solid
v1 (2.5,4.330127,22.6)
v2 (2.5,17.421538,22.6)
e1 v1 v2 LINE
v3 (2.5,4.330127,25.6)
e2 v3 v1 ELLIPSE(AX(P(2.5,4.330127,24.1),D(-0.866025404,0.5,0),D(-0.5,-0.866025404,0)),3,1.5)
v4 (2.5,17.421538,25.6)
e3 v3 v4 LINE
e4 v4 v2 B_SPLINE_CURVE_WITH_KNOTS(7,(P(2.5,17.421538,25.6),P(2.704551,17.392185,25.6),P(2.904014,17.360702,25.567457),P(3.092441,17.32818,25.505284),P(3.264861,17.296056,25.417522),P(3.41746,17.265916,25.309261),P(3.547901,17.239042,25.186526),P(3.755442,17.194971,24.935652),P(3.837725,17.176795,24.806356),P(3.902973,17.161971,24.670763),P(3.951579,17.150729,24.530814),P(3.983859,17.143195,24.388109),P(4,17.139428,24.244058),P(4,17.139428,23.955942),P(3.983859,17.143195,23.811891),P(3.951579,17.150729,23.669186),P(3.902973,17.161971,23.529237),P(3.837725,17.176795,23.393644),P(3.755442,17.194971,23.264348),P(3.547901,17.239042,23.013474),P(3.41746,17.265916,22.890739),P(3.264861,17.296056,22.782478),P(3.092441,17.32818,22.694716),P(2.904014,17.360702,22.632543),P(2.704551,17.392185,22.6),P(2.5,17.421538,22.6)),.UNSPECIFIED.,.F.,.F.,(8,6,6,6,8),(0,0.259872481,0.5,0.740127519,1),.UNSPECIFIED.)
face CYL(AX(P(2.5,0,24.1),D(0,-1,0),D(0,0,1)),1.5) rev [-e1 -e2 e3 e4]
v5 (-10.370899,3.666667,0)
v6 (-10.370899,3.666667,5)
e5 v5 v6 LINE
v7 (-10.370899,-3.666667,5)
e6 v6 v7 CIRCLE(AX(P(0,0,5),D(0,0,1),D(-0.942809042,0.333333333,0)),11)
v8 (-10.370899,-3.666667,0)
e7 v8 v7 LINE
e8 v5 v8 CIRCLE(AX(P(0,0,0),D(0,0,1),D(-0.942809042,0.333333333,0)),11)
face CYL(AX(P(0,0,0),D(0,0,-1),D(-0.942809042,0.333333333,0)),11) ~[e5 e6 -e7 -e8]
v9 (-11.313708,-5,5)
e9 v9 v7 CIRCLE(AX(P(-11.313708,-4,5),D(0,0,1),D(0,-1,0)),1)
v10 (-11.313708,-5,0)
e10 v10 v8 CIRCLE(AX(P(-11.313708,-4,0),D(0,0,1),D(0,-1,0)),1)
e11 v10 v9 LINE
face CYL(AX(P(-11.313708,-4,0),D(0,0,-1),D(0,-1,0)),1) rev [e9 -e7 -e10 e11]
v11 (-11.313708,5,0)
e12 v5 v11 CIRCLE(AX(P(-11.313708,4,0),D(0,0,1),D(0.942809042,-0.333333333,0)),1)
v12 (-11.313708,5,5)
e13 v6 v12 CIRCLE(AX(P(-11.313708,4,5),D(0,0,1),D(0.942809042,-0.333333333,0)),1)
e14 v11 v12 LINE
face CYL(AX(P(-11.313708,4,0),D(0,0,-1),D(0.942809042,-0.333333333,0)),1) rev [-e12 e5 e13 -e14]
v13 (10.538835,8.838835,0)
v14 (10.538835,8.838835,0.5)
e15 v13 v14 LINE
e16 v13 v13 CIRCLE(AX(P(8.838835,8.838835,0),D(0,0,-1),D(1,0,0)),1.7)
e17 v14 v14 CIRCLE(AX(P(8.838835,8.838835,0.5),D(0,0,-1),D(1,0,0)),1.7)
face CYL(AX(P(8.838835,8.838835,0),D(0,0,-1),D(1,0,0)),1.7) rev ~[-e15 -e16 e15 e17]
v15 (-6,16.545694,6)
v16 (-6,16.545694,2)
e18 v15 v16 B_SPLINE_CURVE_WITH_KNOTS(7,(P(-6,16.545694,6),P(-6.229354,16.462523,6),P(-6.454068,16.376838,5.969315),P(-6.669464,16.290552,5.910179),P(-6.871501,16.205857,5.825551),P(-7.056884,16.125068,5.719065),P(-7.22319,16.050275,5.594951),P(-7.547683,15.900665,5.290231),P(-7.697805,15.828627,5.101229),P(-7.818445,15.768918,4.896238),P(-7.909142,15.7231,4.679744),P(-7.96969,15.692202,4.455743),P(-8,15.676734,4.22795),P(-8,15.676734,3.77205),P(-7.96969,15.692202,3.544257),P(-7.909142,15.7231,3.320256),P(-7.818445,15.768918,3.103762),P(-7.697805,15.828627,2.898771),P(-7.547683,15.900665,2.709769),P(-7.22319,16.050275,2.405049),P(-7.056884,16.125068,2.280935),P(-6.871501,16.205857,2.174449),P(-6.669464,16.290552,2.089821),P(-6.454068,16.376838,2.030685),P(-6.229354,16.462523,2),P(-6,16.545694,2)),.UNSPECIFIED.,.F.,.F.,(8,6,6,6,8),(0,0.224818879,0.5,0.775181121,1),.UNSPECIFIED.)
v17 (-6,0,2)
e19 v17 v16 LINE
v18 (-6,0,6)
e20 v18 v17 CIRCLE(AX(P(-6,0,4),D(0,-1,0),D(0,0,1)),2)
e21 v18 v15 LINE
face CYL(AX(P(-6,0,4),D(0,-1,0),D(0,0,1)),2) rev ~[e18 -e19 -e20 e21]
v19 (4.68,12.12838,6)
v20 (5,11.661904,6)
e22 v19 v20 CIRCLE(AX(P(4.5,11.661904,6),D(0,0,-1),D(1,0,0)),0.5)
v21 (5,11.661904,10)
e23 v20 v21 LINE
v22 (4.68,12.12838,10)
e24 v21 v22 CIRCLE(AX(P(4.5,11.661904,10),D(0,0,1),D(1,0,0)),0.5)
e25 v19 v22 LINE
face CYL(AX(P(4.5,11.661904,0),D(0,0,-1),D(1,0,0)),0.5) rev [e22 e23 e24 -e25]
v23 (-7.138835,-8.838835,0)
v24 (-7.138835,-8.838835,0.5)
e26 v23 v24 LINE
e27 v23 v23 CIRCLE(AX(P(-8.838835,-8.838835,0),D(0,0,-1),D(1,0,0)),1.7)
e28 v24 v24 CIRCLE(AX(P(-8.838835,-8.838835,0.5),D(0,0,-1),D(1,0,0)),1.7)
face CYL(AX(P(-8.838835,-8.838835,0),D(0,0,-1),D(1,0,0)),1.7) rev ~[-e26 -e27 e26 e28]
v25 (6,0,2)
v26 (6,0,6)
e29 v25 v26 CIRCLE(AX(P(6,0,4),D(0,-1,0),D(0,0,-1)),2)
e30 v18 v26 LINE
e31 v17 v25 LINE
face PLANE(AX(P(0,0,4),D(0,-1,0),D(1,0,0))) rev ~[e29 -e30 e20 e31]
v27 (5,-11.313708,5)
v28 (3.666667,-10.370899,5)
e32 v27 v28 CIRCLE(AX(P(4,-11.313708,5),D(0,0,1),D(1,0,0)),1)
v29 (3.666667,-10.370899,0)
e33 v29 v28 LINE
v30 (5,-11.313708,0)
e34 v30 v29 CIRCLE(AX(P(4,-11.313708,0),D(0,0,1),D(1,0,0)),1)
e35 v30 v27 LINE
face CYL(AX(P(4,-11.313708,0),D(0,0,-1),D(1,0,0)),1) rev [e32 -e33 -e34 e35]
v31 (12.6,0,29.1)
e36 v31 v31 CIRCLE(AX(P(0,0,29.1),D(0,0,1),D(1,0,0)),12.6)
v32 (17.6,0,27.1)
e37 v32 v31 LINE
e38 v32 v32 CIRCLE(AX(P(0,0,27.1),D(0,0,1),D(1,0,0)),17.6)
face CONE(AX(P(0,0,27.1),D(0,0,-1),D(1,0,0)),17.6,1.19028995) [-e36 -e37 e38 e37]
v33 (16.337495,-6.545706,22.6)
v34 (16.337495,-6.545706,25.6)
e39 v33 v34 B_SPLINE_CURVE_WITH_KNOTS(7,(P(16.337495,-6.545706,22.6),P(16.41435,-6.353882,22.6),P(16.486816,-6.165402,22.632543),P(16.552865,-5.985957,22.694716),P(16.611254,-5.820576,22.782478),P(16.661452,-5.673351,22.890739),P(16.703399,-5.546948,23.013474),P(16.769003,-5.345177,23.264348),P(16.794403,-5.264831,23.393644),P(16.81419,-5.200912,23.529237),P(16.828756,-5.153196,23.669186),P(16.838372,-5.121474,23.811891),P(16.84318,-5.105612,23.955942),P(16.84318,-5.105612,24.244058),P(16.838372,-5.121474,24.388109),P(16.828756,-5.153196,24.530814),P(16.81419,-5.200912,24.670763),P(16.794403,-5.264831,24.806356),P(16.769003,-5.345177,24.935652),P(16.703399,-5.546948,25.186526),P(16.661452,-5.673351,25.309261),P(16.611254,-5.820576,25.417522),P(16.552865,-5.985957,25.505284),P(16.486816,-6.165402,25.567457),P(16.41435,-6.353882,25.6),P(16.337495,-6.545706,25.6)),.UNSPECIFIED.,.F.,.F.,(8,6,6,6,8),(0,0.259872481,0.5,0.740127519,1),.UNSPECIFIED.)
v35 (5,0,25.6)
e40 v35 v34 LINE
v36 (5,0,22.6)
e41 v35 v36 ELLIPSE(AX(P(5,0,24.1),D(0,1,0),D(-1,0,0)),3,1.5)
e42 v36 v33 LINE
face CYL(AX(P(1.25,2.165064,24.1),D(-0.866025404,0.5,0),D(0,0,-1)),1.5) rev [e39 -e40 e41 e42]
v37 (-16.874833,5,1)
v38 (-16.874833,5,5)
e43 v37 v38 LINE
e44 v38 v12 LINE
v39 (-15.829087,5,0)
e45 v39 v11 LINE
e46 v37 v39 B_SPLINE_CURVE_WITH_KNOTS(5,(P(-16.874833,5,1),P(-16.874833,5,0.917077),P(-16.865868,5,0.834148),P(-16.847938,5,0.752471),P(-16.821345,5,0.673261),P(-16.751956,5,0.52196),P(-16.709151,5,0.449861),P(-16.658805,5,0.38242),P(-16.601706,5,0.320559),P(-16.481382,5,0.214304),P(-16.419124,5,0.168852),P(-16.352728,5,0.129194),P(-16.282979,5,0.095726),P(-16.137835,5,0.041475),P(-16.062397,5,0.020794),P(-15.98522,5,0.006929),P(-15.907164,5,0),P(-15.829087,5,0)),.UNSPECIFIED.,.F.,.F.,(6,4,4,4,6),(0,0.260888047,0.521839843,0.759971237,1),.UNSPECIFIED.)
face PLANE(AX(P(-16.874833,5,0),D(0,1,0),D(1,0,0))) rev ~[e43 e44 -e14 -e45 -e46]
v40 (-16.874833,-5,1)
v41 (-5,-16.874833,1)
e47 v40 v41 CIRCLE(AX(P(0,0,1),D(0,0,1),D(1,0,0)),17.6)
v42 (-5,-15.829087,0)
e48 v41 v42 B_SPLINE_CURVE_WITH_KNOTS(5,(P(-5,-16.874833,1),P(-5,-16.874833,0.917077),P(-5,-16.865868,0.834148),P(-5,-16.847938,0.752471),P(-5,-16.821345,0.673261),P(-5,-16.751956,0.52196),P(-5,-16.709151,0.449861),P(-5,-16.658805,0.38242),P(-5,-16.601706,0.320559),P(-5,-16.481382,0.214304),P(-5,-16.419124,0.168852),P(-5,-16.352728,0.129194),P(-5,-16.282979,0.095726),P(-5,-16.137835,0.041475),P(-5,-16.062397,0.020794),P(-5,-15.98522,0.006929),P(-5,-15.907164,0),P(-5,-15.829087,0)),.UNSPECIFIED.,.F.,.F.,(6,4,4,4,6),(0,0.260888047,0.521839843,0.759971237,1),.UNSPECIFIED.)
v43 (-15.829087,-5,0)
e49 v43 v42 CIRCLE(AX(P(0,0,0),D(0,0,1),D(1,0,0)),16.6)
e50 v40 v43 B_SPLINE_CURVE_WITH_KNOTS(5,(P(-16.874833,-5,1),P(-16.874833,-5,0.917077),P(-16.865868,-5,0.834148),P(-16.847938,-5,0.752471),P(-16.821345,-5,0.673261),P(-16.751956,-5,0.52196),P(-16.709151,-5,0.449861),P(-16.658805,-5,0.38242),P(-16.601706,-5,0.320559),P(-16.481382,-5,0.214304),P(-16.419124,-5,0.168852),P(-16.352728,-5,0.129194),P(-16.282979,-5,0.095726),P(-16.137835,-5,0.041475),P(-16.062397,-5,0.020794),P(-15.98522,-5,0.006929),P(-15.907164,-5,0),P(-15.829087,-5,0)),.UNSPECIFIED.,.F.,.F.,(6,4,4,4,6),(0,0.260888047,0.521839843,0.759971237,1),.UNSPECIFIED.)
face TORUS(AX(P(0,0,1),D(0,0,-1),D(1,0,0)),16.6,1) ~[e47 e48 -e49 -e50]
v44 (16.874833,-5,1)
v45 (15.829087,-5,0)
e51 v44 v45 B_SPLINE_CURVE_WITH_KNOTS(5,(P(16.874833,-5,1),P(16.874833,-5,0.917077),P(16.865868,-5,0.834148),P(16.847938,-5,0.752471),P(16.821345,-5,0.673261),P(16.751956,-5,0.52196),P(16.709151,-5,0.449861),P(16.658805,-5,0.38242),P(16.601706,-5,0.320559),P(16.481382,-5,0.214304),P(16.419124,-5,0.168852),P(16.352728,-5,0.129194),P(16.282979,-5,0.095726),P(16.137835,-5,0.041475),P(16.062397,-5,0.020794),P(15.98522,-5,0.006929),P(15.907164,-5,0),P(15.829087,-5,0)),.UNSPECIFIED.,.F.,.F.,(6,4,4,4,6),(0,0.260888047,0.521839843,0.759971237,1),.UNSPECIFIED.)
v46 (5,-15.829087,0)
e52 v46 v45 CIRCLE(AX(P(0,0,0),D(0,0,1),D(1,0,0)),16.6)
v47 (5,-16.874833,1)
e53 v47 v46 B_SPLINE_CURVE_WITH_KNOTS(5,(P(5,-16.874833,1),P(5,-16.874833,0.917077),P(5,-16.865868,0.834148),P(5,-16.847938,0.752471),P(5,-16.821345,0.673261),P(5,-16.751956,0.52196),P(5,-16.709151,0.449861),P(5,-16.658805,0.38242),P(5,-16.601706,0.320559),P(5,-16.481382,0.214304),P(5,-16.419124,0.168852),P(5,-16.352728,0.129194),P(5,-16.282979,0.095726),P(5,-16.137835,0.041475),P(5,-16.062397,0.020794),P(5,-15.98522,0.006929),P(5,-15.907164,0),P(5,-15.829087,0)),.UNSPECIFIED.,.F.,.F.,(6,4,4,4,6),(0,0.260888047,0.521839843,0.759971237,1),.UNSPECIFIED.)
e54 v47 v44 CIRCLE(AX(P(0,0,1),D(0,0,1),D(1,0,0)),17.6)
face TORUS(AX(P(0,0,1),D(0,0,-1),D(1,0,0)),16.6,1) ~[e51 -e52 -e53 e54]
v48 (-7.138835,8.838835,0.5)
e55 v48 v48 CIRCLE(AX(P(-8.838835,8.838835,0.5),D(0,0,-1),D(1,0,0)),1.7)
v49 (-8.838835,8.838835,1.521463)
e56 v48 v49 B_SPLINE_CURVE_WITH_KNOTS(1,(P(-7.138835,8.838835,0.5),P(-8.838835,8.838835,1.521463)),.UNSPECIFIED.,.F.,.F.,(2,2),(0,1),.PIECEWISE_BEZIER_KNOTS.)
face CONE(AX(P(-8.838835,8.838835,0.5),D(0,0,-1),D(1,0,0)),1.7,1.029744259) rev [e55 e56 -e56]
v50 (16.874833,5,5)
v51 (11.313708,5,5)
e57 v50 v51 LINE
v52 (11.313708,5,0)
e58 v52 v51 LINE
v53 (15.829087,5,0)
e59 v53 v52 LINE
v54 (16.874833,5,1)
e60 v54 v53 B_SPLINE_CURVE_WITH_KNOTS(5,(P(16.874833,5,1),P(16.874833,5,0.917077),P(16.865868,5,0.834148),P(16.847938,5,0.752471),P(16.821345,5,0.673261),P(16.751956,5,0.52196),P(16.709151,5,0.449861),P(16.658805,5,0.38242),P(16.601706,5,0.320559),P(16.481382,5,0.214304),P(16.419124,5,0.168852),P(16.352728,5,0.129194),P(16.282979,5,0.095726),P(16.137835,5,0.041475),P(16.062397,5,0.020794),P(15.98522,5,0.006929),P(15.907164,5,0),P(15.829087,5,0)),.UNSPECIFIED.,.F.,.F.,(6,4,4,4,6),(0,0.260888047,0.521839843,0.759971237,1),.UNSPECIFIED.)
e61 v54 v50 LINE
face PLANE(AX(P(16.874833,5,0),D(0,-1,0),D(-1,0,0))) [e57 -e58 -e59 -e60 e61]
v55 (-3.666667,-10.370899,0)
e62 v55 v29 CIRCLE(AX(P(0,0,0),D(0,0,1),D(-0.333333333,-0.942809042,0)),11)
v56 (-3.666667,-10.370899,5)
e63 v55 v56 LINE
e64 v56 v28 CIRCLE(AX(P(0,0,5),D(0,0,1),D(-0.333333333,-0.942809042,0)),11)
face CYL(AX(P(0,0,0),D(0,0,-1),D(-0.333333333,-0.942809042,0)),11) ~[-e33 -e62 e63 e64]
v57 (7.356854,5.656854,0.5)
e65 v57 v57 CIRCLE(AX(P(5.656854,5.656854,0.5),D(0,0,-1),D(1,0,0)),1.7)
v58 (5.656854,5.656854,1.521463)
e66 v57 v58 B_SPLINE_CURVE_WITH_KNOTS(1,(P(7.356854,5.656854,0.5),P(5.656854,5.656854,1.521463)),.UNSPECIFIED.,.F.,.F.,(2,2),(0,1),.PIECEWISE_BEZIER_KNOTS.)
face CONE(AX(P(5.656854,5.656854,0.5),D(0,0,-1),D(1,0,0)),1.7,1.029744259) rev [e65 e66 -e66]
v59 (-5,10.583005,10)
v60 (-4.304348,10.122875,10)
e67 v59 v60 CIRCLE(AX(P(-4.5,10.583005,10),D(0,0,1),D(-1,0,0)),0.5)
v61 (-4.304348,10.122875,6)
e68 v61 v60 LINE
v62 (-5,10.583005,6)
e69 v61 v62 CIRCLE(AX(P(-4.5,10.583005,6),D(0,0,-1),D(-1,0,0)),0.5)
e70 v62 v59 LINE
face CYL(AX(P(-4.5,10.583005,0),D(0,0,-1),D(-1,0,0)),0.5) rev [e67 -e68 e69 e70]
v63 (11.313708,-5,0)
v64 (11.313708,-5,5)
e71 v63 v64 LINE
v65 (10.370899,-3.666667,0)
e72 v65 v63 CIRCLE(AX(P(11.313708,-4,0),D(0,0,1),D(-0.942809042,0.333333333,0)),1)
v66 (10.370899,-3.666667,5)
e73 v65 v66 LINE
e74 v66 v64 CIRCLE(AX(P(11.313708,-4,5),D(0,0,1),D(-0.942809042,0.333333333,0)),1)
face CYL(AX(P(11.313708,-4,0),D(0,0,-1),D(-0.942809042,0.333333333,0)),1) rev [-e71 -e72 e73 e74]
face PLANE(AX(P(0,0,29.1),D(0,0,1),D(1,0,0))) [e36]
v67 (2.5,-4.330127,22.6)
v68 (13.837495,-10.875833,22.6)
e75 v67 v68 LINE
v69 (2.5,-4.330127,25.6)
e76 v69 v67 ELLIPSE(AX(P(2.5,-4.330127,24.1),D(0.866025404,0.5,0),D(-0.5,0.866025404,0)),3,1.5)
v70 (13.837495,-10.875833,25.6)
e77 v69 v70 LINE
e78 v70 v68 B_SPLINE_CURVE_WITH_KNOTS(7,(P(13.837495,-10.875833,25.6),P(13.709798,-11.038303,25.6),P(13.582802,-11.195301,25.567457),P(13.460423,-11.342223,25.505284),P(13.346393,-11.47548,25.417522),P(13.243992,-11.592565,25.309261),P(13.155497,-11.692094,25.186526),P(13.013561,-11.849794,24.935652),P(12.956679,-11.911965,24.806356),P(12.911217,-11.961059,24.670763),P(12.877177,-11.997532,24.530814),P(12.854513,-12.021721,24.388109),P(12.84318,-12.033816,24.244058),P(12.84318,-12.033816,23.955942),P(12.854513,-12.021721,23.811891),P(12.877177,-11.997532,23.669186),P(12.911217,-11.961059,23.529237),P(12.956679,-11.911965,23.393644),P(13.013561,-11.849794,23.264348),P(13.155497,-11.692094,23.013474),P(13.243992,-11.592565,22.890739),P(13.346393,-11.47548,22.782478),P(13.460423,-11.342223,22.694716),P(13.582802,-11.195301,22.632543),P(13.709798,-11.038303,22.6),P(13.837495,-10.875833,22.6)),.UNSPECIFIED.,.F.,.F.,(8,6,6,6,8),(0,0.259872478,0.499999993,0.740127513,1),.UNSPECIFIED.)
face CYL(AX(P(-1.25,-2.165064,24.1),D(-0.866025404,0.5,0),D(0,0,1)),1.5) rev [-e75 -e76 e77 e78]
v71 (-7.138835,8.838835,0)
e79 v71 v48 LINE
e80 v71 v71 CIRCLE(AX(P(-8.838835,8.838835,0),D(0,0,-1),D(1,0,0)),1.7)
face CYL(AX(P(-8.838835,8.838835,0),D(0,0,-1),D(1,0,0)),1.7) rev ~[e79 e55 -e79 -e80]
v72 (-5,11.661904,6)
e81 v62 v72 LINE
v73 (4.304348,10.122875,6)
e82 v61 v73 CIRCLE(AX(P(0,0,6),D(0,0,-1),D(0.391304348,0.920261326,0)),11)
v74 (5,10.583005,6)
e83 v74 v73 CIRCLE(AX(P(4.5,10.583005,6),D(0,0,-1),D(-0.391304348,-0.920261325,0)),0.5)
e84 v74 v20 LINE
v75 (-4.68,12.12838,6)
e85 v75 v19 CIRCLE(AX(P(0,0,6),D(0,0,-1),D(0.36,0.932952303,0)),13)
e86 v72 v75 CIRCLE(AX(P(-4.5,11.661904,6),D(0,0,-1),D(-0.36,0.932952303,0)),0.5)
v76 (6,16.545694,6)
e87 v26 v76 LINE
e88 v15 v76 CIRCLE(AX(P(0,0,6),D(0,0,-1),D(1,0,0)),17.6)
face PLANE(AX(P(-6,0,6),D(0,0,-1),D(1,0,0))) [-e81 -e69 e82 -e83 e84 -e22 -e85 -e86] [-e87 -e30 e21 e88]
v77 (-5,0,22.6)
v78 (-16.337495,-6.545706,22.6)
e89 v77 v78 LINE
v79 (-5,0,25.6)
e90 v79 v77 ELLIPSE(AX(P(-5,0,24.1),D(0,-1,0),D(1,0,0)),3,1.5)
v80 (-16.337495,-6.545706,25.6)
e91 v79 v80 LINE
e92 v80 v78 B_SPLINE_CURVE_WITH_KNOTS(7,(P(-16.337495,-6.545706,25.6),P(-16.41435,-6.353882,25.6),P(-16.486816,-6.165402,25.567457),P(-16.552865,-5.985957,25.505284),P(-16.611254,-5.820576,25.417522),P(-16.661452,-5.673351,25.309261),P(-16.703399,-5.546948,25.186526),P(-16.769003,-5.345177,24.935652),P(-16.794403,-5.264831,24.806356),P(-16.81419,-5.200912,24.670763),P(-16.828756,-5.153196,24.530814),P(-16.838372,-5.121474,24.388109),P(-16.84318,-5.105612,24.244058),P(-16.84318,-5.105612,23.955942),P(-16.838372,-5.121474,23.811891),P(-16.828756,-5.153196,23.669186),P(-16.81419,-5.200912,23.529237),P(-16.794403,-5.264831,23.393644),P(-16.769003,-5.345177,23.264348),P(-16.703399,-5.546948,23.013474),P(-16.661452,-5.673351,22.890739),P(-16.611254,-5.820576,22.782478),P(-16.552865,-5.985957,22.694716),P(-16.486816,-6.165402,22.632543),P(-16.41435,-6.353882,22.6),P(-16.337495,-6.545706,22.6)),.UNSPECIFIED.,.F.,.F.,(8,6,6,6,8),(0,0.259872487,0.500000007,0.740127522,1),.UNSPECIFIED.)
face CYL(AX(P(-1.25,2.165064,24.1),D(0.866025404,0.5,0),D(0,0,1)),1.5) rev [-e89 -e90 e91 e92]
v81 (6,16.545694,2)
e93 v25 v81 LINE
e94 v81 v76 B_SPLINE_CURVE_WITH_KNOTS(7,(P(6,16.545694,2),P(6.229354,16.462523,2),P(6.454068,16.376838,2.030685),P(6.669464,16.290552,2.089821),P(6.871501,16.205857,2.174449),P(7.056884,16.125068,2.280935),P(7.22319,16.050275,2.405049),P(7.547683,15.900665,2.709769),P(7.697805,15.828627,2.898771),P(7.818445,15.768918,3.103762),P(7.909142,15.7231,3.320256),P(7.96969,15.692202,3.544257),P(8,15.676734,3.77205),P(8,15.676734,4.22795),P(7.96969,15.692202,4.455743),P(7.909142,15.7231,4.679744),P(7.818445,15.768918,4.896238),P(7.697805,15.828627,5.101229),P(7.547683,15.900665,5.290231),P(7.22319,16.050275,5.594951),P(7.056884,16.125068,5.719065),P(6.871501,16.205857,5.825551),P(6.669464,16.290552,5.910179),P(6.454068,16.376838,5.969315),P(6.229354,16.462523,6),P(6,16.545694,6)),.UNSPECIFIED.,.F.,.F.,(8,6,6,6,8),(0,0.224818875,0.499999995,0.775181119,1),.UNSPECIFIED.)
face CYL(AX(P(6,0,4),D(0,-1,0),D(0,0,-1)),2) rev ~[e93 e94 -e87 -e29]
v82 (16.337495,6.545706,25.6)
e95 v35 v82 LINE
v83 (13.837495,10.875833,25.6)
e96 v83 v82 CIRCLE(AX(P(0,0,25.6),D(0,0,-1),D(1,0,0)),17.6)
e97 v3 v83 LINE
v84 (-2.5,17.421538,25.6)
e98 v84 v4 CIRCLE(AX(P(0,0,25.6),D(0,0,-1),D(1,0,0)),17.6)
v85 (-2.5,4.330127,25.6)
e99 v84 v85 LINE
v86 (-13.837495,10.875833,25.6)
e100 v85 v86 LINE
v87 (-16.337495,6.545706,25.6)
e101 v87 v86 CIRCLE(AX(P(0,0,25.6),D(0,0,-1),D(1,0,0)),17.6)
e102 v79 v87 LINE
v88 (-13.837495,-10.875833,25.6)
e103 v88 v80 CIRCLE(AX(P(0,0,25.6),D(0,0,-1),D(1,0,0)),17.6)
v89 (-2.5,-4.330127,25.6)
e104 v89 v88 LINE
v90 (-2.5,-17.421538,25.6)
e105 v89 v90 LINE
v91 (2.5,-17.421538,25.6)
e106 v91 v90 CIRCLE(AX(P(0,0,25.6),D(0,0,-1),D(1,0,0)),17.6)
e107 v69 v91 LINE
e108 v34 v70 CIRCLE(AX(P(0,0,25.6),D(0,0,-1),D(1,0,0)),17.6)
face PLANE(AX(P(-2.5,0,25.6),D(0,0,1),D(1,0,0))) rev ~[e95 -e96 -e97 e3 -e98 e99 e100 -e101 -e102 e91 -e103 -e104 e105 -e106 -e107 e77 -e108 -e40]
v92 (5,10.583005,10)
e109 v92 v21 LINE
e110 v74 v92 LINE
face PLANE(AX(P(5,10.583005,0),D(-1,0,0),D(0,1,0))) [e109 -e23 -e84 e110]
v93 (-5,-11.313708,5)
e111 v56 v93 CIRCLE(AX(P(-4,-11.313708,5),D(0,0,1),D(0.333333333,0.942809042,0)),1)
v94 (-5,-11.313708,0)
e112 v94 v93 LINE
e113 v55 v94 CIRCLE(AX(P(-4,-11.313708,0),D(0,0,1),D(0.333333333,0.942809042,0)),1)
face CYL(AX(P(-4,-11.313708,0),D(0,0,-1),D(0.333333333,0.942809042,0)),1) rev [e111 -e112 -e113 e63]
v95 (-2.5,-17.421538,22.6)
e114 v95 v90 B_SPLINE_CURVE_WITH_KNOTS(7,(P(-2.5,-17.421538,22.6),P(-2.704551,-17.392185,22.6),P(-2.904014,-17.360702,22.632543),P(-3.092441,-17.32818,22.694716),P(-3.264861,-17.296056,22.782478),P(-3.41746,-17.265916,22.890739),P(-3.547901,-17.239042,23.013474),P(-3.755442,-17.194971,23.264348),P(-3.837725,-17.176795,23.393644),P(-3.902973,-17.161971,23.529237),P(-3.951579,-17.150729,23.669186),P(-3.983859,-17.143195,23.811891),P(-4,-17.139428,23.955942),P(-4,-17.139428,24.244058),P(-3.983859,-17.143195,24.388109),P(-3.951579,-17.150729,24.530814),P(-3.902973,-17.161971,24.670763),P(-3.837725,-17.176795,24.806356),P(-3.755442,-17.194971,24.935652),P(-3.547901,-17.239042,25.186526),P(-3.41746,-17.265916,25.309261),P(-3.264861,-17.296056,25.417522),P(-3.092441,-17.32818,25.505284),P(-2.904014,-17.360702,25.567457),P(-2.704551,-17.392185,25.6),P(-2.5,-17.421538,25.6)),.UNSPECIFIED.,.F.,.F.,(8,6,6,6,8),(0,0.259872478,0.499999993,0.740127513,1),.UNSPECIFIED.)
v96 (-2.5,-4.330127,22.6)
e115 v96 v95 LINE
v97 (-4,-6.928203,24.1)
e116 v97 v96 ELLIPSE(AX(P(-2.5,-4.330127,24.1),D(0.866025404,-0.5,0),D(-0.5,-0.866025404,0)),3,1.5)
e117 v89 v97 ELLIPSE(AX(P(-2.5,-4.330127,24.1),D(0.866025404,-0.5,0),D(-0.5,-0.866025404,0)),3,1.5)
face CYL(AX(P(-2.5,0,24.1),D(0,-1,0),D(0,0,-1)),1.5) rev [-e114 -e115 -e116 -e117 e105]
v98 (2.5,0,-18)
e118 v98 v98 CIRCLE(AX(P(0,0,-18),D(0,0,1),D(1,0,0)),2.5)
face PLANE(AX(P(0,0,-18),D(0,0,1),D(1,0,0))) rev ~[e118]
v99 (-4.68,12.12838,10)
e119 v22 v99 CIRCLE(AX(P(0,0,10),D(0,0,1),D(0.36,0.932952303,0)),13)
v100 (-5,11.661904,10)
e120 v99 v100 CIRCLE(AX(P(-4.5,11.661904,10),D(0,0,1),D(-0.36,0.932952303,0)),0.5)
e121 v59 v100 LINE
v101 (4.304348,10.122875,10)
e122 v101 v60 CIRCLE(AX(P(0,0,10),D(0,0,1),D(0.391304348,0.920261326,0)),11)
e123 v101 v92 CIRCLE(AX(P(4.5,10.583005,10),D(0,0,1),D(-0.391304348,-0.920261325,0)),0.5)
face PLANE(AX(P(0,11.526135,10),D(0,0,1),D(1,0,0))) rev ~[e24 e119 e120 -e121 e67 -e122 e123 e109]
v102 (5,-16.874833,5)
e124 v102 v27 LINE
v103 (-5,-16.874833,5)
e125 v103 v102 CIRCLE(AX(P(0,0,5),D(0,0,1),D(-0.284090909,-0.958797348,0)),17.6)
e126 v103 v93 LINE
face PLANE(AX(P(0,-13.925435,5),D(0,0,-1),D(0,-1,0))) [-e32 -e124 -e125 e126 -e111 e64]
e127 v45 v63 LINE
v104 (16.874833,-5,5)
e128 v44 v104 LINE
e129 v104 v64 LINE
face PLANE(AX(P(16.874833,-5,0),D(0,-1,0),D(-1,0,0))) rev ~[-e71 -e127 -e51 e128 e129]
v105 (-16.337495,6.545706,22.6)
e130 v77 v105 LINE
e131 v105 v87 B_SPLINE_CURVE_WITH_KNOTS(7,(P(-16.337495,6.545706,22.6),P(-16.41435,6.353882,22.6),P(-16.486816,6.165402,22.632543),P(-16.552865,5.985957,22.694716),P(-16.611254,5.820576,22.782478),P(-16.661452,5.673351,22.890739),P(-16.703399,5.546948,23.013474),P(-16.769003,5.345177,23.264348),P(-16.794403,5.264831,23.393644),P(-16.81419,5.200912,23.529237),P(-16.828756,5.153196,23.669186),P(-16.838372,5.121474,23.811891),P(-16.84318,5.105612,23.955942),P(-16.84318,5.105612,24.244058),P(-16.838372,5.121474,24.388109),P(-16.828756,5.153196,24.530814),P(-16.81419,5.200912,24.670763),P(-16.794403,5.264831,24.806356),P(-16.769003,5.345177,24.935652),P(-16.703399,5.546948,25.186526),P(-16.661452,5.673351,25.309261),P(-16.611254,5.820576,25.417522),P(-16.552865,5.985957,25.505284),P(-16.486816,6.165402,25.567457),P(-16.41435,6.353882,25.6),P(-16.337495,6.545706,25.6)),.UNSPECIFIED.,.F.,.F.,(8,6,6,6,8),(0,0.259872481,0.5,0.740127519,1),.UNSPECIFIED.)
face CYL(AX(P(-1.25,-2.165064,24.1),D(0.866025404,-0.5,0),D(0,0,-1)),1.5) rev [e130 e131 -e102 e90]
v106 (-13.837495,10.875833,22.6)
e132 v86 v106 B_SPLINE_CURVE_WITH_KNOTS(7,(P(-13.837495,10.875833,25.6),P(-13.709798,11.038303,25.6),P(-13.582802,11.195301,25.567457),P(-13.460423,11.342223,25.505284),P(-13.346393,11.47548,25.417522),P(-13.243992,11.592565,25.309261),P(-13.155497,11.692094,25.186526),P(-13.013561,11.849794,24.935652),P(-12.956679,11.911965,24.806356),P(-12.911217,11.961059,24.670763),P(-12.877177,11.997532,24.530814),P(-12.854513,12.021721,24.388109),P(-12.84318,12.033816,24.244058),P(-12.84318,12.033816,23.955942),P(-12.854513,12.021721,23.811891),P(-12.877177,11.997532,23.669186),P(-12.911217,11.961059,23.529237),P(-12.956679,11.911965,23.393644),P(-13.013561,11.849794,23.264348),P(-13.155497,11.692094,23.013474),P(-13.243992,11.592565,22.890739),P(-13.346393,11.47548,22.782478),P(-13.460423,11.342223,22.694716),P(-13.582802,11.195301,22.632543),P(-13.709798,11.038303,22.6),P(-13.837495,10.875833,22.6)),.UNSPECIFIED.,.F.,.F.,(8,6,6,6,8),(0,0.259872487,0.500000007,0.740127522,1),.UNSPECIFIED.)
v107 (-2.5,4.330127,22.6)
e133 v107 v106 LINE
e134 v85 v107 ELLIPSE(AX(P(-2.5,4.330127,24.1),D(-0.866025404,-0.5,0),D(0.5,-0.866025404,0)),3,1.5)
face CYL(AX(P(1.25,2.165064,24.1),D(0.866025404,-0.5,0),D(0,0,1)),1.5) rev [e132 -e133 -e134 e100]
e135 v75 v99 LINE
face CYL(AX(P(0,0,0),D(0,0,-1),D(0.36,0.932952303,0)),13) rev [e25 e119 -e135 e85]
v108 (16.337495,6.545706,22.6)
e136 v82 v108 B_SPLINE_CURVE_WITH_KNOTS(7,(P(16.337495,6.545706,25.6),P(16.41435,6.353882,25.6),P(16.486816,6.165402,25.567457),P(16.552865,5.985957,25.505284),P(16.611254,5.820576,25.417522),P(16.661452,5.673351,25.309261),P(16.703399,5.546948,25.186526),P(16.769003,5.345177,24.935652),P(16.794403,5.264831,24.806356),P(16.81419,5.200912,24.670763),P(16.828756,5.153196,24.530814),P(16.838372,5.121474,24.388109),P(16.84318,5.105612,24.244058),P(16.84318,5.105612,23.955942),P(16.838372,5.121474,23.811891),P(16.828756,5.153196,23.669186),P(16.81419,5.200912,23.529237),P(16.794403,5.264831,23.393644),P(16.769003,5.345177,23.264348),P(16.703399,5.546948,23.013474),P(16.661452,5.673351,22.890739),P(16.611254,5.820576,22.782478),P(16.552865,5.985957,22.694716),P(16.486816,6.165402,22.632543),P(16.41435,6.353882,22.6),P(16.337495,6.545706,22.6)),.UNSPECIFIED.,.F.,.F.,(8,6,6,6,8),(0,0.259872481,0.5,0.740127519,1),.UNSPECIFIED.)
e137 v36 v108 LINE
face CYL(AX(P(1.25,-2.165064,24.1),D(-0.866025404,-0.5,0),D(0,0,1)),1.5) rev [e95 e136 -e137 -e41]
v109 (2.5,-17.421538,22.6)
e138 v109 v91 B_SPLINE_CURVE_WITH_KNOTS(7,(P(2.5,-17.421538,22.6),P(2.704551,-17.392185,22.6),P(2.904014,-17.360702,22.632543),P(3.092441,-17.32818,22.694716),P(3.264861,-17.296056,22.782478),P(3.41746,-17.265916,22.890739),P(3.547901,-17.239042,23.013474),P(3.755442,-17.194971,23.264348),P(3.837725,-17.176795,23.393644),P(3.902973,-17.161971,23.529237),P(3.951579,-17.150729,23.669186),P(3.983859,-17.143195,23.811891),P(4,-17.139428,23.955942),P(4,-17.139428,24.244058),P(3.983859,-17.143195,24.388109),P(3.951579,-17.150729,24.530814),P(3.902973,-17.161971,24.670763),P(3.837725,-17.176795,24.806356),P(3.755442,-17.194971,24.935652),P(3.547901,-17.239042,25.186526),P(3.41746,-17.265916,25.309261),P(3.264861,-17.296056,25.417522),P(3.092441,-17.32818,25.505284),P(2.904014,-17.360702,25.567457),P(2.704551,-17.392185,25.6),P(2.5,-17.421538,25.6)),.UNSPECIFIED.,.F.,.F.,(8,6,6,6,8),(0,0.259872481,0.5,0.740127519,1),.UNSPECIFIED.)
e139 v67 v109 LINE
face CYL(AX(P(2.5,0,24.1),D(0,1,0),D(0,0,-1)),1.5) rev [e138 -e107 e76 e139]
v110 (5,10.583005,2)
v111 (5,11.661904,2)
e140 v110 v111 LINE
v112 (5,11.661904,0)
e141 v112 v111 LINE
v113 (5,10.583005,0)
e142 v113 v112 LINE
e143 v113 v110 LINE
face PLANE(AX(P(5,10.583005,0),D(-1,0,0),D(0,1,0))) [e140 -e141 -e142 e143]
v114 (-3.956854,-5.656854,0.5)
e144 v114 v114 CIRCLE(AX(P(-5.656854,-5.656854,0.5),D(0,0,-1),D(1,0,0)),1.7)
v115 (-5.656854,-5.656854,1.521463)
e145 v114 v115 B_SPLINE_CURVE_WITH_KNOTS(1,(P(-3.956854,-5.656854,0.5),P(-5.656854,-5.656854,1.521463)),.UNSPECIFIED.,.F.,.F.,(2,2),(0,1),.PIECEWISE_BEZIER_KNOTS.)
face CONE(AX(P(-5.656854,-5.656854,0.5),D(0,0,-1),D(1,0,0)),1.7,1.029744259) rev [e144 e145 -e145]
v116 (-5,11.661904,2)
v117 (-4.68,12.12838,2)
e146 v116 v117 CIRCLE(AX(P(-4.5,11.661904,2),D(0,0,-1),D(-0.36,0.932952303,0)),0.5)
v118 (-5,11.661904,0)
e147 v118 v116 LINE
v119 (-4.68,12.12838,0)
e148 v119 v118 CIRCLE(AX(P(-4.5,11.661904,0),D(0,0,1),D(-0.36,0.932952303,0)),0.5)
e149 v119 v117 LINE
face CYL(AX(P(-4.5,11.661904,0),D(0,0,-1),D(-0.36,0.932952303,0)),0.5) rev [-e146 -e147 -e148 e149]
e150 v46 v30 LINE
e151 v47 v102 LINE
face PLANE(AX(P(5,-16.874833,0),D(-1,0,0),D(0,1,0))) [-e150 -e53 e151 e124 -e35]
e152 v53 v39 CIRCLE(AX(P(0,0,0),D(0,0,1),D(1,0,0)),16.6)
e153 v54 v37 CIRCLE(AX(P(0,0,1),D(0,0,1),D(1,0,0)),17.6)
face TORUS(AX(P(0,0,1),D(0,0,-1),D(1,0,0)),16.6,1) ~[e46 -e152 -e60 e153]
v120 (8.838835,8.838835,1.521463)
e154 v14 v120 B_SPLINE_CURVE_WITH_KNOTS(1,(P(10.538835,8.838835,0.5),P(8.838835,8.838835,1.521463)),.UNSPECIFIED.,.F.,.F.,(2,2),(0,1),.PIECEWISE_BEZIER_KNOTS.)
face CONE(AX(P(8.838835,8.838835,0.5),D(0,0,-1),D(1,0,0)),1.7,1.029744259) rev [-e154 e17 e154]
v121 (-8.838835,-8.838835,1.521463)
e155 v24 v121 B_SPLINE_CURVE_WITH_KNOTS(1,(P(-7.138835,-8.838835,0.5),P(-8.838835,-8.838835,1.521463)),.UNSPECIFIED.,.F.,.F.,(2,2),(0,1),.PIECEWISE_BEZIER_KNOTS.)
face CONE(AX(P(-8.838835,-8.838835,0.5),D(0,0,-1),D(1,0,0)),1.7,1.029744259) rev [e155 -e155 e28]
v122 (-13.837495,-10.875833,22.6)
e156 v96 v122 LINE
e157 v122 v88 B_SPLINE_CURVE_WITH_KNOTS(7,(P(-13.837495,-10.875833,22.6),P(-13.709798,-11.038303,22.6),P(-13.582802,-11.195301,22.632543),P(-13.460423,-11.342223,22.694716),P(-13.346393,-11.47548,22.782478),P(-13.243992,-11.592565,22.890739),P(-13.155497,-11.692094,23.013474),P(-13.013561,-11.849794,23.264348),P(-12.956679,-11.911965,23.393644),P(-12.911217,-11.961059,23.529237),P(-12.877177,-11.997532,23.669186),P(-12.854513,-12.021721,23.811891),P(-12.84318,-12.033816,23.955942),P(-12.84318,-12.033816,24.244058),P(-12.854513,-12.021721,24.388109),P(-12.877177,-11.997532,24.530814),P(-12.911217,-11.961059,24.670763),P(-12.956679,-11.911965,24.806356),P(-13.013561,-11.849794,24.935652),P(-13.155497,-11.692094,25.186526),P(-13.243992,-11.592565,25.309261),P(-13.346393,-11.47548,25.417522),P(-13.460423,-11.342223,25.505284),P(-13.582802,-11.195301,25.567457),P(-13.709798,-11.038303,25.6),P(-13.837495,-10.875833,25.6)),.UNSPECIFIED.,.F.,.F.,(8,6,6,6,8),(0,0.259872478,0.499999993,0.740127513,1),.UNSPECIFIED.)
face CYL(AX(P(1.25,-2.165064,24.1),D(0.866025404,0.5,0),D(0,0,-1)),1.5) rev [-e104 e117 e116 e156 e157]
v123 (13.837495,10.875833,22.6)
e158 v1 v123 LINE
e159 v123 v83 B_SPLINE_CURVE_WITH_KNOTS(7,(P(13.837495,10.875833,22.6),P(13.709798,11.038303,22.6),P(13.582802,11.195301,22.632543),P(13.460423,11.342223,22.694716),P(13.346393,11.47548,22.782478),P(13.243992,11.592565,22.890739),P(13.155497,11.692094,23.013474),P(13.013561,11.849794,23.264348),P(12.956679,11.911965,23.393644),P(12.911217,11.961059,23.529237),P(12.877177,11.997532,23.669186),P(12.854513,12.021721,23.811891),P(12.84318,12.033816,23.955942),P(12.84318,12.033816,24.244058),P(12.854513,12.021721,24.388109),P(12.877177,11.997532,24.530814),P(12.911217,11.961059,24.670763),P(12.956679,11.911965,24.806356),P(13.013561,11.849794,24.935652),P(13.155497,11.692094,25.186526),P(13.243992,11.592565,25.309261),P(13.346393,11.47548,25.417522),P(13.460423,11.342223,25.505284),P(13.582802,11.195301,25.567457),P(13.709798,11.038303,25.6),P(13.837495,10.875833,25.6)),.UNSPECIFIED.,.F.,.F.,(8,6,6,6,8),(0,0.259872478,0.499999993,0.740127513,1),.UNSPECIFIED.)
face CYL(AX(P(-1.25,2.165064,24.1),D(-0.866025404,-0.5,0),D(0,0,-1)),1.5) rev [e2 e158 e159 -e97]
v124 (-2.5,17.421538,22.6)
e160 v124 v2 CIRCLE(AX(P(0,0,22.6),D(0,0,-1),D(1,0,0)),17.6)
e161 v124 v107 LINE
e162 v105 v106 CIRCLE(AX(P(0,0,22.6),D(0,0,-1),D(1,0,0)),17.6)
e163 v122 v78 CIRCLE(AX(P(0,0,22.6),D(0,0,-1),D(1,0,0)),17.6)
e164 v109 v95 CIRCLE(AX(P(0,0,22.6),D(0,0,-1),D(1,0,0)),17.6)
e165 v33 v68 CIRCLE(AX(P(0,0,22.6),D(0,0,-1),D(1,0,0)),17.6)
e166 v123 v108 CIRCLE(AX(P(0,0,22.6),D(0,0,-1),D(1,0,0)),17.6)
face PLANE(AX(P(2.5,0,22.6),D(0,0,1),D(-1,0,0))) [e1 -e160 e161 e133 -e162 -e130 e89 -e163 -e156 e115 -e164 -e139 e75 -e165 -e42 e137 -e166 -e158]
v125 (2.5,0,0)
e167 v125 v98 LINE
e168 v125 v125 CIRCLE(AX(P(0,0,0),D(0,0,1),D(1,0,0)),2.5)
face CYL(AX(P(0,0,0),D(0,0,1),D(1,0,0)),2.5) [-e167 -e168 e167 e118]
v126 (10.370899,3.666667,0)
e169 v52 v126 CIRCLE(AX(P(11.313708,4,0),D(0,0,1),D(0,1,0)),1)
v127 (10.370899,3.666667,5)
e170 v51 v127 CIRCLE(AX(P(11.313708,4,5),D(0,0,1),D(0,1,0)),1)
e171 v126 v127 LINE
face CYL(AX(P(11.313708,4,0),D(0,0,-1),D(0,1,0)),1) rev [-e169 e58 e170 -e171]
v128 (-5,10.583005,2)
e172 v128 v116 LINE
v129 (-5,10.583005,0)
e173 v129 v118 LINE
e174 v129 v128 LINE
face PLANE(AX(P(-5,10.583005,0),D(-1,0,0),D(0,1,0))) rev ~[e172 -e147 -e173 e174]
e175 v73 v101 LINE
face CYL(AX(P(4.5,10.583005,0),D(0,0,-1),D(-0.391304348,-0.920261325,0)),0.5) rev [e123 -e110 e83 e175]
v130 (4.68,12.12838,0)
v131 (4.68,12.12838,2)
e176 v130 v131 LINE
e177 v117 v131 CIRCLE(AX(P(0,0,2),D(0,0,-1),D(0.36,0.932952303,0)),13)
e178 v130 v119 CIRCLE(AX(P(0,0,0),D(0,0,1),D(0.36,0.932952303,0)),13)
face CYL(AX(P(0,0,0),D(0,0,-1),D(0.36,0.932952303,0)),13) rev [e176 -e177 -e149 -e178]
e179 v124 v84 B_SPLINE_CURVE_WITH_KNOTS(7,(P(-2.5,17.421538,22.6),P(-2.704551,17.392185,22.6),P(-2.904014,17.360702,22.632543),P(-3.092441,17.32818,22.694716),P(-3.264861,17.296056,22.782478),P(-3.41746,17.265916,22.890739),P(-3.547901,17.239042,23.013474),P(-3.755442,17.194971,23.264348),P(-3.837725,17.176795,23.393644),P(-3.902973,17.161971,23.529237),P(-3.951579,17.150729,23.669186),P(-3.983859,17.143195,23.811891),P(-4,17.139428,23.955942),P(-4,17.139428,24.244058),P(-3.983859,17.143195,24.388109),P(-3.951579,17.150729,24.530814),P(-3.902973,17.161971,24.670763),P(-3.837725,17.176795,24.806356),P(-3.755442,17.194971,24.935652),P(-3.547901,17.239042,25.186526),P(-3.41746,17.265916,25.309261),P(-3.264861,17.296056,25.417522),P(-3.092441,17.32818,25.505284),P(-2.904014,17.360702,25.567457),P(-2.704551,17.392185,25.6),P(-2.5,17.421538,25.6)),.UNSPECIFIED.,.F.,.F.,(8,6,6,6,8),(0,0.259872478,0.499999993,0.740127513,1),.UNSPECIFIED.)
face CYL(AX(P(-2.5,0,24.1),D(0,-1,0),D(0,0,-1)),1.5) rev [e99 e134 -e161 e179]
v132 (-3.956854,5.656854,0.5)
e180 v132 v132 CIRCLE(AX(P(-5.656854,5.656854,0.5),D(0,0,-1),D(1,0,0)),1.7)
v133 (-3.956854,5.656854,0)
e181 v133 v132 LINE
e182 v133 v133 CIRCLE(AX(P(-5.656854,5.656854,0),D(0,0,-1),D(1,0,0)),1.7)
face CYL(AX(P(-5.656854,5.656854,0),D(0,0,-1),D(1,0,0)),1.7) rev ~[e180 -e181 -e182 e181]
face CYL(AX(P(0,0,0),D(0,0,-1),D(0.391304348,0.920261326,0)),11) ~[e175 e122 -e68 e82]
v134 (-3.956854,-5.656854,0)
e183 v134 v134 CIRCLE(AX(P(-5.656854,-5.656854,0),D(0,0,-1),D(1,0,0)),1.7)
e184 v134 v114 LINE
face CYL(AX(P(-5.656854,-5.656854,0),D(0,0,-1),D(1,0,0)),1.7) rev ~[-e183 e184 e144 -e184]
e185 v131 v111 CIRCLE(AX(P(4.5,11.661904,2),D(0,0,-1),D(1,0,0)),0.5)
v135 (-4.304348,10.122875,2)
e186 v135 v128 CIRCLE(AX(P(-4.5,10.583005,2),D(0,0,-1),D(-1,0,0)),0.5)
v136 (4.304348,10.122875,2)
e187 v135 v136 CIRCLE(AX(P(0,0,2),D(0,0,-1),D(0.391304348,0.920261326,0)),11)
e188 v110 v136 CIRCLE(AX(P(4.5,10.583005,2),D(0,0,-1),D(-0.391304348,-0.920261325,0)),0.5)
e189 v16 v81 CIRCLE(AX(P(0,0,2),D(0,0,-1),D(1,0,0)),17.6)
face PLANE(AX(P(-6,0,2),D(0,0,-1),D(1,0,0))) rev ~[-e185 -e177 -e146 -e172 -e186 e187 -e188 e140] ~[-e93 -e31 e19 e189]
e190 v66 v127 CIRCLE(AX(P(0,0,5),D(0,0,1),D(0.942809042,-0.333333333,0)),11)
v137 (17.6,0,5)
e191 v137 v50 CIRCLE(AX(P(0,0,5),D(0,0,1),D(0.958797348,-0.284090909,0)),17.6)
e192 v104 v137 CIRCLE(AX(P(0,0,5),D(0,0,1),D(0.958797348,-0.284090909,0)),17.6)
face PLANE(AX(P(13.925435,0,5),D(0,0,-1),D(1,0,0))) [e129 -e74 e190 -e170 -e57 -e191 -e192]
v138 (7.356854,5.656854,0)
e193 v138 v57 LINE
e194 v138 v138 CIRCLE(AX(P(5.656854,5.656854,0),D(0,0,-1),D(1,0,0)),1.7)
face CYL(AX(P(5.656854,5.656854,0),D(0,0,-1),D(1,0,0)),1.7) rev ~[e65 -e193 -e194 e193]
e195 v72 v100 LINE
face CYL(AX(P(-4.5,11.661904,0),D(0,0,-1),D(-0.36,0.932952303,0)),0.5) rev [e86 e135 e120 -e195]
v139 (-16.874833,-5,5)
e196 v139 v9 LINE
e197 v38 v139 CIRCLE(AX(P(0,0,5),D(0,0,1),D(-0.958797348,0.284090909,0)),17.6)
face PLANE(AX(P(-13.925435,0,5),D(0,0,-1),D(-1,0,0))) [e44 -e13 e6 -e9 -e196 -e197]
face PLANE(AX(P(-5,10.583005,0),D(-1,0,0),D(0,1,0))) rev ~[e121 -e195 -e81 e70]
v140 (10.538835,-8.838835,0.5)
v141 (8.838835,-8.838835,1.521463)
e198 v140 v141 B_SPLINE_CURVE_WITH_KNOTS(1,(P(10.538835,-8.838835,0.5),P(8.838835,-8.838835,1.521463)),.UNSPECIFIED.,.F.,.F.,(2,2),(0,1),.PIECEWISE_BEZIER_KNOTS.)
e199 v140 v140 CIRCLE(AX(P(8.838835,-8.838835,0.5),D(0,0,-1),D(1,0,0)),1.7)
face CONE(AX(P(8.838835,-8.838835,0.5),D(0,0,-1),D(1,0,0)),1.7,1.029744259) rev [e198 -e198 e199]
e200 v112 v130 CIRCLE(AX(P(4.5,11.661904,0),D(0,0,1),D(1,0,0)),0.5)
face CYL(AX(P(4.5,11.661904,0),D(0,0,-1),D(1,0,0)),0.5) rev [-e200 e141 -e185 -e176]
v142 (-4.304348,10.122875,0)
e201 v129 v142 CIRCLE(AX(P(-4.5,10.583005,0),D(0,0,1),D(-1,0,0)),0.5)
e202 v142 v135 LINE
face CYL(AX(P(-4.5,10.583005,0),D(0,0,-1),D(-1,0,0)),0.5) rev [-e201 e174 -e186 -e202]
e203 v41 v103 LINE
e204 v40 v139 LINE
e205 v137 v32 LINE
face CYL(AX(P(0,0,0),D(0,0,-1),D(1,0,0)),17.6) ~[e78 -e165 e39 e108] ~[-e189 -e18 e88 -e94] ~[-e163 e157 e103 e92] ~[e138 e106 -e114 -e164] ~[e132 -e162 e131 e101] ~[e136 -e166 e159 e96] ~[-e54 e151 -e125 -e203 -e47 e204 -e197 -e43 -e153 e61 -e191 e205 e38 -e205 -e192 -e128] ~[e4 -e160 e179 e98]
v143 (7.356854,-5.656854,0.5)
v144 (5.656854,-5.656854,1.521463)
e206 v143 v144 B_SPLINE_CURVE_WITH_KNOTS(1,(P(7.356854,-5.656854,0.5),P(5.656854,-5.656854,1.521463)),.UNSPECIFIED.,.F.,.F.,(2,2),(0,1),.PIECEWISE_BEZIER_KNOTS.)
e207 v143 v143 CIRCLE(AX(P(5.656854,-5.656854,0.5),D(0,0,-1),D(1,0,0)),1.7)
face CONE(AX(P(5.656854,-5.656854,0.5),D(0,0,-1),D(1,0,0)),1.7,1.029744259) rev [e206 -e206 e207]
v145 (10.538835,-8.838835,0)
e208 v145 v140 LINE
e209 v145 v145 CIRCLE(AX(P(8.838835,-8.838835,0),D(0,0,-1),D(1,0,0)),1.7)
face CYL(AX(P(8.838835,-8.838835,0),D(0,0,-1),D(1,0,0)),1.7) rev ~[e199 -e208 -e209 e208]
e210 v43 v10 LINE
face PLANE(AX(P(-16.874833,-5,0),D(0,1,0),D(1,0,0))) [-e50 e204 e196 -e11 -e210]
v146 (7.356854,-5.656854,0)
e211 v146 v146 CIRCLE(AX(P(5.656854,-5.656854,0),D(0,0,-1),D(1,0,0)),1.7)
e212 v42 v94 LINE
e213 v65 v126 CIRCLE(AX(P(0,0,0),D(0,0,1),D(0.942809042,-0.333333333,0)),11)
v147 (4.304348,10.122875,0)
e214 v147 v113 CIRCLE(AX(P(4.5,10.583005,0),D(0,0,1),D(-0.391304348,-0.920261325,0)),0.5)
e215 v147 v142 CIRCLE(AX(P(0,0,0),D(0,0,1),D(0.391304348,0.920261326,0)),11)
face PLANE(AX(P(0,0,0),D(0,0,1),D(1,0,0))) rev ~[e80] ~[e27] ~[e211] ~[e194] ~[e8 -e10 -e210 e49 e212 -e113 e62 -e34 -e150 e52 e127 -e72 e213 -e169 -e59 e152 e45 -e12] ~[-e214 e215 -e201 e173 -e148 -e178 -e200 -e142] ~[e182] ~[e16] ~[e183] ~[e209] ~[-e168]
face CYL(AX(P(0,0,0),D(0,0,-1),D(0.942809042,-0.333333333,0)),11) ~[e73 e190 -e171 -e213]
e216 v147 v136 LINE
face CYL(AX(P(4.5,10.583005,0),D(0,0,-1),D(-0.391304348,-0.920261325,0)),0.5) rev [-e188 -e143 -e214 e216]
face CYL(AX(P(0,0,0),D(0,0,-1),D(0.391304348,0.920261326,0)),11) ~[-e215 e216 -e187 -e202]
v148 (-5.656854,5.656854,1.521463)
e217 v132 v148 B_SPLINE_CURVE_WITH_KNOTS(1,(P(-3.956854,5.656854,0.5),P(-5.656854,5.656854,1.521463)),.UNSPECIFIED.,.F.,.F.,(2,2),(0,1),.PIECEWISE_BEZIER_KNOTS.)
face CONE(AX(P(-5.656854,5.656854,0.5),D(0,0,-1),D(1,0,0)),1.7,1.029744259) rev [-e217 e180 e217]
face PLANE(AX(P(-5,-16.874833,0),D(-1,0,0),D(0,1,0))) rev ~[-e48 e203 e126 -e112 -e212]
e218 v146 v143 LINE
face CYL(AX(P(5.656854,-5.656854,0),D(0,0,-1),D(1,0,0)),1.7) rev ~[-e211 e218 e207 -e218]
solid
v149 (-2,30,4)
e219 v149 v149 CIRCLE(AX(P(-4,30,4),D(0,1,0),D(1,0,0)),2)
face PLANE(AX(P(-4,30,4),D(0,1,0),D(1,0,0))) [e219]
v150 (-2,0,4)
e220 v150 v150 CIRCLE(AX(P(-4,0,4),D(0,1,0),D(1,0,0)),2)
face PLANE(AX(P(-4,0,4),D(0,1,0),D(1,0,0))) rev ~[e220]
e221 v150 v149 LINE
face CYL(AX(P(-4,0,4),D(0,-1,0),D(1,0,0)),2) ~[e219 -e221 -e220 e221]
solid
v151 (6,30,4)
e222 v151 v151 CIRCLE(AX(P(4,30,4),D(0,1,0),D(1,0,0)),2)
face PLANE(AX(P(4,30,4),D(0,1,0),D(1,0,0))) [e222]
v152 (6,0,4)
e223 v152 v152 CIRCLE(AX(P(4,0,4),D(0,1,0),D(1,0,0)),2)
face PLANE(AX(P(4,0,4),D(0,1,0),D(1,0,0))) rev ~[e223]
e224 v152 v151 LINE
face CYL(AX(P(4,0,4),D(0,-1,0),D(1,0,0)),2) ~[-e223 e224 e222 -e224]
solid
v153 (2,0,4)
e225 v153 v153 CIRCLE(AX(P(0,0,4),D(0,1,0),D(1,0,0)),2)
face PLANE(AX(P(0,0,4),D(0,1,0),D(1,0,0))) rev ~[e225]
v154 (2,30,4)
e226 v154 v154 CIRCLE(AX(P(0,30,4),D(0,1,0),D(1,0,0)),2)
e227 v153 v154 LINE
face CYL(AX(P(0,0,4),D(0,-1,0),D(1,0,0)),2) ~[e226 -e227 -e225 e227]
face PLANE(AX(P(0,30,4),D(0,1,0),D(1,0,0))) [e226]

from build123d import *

# Parameters (mm, degrees)
CYLINDER_R              = 2
CYLINDER_DEPTH          = 30
CYLINDER001_R           = 2
CYLINDER001_DEPTH       = 30
CYLINDER002_R           = 2
CYLINDER002_DEPTH       = 30
PAD004_DEPTH            = 5
BODY005_PLACEMENT_ANGLE = 90
BODY004_PLACEMENT_ANGLE = 180
PAD003_DEPTH            = 10
PAD002_DEPTH            = 35
POLARPATTERN_COUNT      = 6
PAD005_DEPTH            = 25
SKETCH001_R             = 17.6
PAD_DEPTH               = 29.1
SKETCH_R                = 1.7
HOLE_DEPTH              = 0.5
HOLE_TIPS_R             = 1.7
SKETCH002_R             = 2.5
PAD001_DEPTH            = 18
CHAMFER_SIZE2           = 5
CHAMFER_SIZE            = 2
FILLET_R                = 1


with BuildPart() as cylindre:
    # Cylinder → Cylinder (new body)
    with BuildSketch(Plane(origin=(4, 0, 4), x_dir=(1, 0, 0), z_dir=(0, 1, 0))):
        Circle(CYLINDER_R)
    extrude(amount=CYLINDER_DEPTH)


with BuildPart() as cylindre001:
    # Cylinder001 → Cylinder001 (new body)
    with BuildSketch(Plane(origin=(0, 0, 4), x_dir=(1, 0, 0), z_dir=(0, 1, 0))):
        Circle(CYLINDER001_R)
    extrude(amount=CYLINDER001_DEPTH)


with BuildPart() as cylindre002:
    # Cylinder002 → Cylinder002 (new body)
    with BuildSketch(Plane(origin=(-4, 0, 4), x_dir=(1, 0, 0), z_dir=(0, 1, 0))):
        Circle(CYLINDER002_R)
    extrude(amount=CYLINDER002_DEPTH)


with BuildPart() as body003:
    # Sketch005 → Pad004 (new body)
    with BuildSketch(Plane.XY):
        with BuildLine():
            ThreePointArc((-10.3708994574, 3.6666666667), (-11, 0), (-10.3708994574, -3.6666666667))
            ThreePointArc((-11.313708499, -5), (-10.4972119181, -4.5773502692), (-10.3708994574, -3.6666666667))
            Line((-16.8748333325, -5), (-11.313708499, -5))
            ThreePointArc((-16.8748333325, 5), (-17.6, 0), (-16.8748333325, -5))
            Line((-16.8748333325, 5), (-11.313708499, 5))
            ThreePointArc((-10.3708994574, 3.6666666667), (-10.4972119181, 4.5773502692), (-11.313708499, 5))
        make_face()
    extrude(amount=PAD004_DEPTH)


with BuildPart() as body005:
    # Body005 base: copy of Body003
    add(body003.part)


with BuildPart() as body005_1:
    # Body005 placement: moved
    add(body005.part.rotate(Axis((0, 0, 0), (0, 0, 1)), BODY005_PLACEMENT_ANGLE))


with BuildPart() as body004:
    # Body004 base: copy of Body003
    add(body003.part)


with BuildPart() as body004_1:
    # Body004 placement: moved
    add(body004.part.rotate(Axis((0, 0, 0), (0, 0, 1)), BODY004_PLACEMENT_ANGLE))


with BuildPart() as body002:
    # Sketch004 → Pad003 (new body)
    with BuildSketch(Plane.XY):
        with BuildLine():
            ThreePointArc((4.68, 12.1283799413), (0, 13), (-4.68, 12.1283799413))
            ThreePointArc((-4.68, 12.1283799413), (-4.9123105626, 11.9447465022), (-5, 11.6619037897))
            Line((-5, 10.5830052443), (-5, 11.6619037897))
            ThreePointArc((-5, 10.5830052443), (-4.7758386422, 10.1659764161), (-4.3043478261, 10.1228745815))
            ThreePointArc((4.3043478261, 10.1228745815), (0, 11), (-4.3043478261, 10.1228745815))
            ThreePointArc((4.3043478261, 10.1228745815), (4.7758386422, 10.1659764161), (5, 10.5830052443))
            Line((5, 10.5830052443), (5, 11.6619037897))
            ThreePointArc((5, 11.6619037897), (4.9123105626, 11.9447465022), (4.68, 12.1283799413))
        make_face()
    extrude(amount=PAD003_DEPTH)


with BuildPart() as body001:
    # Sketch003 → Pad002 (new body)
    with BuildSketch(Plane.XZ):
        with BuildLine():
            ThreePointArc((-2.5, 25.6), (-4, 24.1), (-2.5, 22.6))
            Line((-2.5, 22.6), (2.5, 22.6))
            ThreePointArc((2.5, 22.6), (4, 24.1), (2.5, 25.6))
            Line((-2.5, 25.6), (2.5, 25.6))
        make_face()
    pad002 = extrude(amount=PAD002_DEPTH)

    # PolarPattern: Pad002 ×6 about axis
    polarpattern_axis = Axis((0, 0, 0), (0, 0, 1))
    for i in range(1, POLARPATTERN_COUNT):
        add(pad002.rotate(polarpattern_axis, i * 360 / POLARPATTERN_COUNT))


with BuildPart() as fusion:
    # Sketch006 → Pad005 (new body)
    with BuildSketch(Plane.XZ):
        with BuildLine():
            ThreePointArc((-6, 6), (-8, 4), (-6, 2))
            Line((-6, 2), (6, 2))
            ThreePointArc((6, 2), (8, 4), (6, 6))
            Line((-6, 6), (6, 6))
        make_face()
    extrude(amount=-PAD005_DEPTH)

    # Fusion: union Body005, Body004, Body003, Body002, Body001
    add(body005_1.part)
    add(body004_1.part)
    add(body003.part)
    add(body002.part)
    add(body001.part)


with BuildPart() as cut:
    # Sketch001 → Pad (new body)
    with BuildSketch(Plane.XY):
        Circle(SKETCH001_R)
    extrude(amount=PAD_DEPTH)

    # Sketch → Hole (cut)
    with BuildSketch(Plane(origin=(0, 0, 0), x_dir=(1, 0, 0), z_dir=(0, 0, -1))):
        with Locations((8.8388347648, 8.8388347648)):
            Circle(SKETCH_R)
        with Locations((-8.8388347648, 8.8388347648)):
            Circle(SKETCH_R)
        with Locations((-8.8388347648, -8.8388347648)):
            Circle(SKETCH_R)
        with Locations((8.8388347648, -8.8388347648)):
            Circle(SKETCH_R)
        with Locations((-5.6568542495, 5.6568542495)):
            Circle(SKETCH_R)
        with Locations((-5.6568542495, -5.6568542495)):
            Circle(SKETCH_R)
        with Locations((5.6568542495, -5.6568542495)):
            Circle(SKETCH_R)
        with Locations((5.6568542495, 5.6568542495)):
            Circle(SKETCH_R)
    extrude(amount=-HOLE_DEPTH, mode=Mode.SUBTRACT)

    # Hole tips → Hole tip 1 section 0
    with BuildSketch(Plane(origin=(0, 0, 0.5), x_dir=(1, 0, 0), z_dir=(0, 0, -1)), mode=Mode.PRIVATE) as hole_tip_1_s0:
        with Locations((8.8388347648, 8.8388347648)):
            Circle(HOLE_TIPS_R)
    loft([hole_tip_1_s0.sketch, Vertex(8.8388347648, -8.8388347648, 1.5214630523)], mode=Mode.SUBTRACT)

    # Hole tips → Hole tip 2 section 0
    with BuildSketch(Plane(origin=(0, 0, 0.5), x_dir=(1, 0, 0), z_dir=(0, 0, -1)), mode=Mode.PRIVATE) as hole_tip_2_s0:
        with Locations((-8.8388347648, 8.8388347648)):
            Circle(HOLE_TIPS_R)
    loft([hole_tip_2_s0.sketch, Vertex(-8.8388347648, -8.8388347648, 1.5214630523)], mode=Mode.SUBTRACT)

    # Hole tips → Hole tip 3 section 0
    with BuildSketch(Plane(origin=(0, 0, 0.5), x_dir=(1, 0, 0), z_dir=(0, 0, -1)), mode=Mode.PRIVATE) as hole_tip_3_s0:
        with Locations((-8.8388347648, -8.8388347648)):
            Circle(HOLE_TIPS_R)
    loft([hole_tip_3_s0.sketch, Vertex(-8.8388347648, 8.8388347648, 1.5214630523)], mode=Mode.SUBTRACT)

    # Hole tips → Hole tip 4 section 0
    with BuildSketch(Plane(origin=(0, 0, 0.5), x_dir=(1, 0, 0), z_dir=(0, 0, -1)), mode=Mode.PRIVATE) as hole_tip_4_s0:
        with Locations((8.8388347648, -8.8388347648)):
            Circle(HOLE_TIPS_R)
    loft([hole_tip_4_s0.sketch, Vertex(8.8388347648, 8.8388347648, 1.5214630523)], mode=Mode.SUBTRACT)

    # Hole tips → Hole tip 5 section 0
    with BuildSketch(Plane(origin=(0, 0, 0.5), x_dir=(1, 0, 0), z_dir=(0, 0, -1)), mode=Mode.PRIVATE) as hole_tip_5_s0:
        with Locations((-5.6568542495, 5.6568542495)):
            Circle(HOLE_TIPS_R)
    loft([hole_tip_5_s0.sketch, Vertex(-5.6568542495, -5.6568542495, 1.5214630523)], mode=Mode.SUBTRACT)

    # Hole tips → Hole tip 6 section 0
    with BuildSketch(Plane(origin=(0, 0, 0.5), x_dir=(1, 0, 0), z_dir=(0, 0, -1)), mode=Mode.PRIVATE) as hole_tip_6_s0:
        with Locations((-5.6568542495, -5.6568542495)):
            Circle(HOLE_TIPS_R)
    loft([hole_tip_6_s0.sketch, Vertex(-5.6568542495, 5.6568542495, 1.5214630523)], mode=Mode.SUBTRACT)

    # Hole tips → Hole tip 7 section 0
    with BuildSketch(Plane(origin=(0, 0, 0.5), x_dir=(1, 0, 0), z_dir=(0, 0, -1)), mode=Mode.PRIVATE) as hole_tip_7_s0:
        with Locations((5.6568542495, -5.6568542495)):
            Circle(HOLE_TIPS_R)
    loft([hole_tip_7_s0.sketch, Vertex(5.6568542495, 5.6568542495, 1.5214630523)], mode=Mode.SUBTRACT)

    # Hole tips → Hole tip 8 section 0
    with BuildSketch(Plane(origin=(0, 0, 0.5), x_dir=(1, 0, 0), z_dir=(0, 0, -1)), mode=Mode.PRIVATE) as hole_tip_8_s0:
        with Locations((5.6568542495, 5.6568542495)):
            Circle(HOLE_TIPS_R)
    loft([hole_tip_8_s0.sketch, Vertex(5.6568542495, -5.6568542495, 1.5214630523)], mode=Mode.SUBTRACT)

    # Sketch002 → Pad001 (join)
    with BuildSketch(Plane.XY):
        Circle(SKETCH002_R)
    extrude(amount=-PAD001_DEPTH)

    # Chamfer
    chamfer_edges = [cut.edges().sort_by_distance(p)[0] for p in [
        (-17.6, 0, 29.1),
    ]]
    chamfer_side = cut.faces().sort_by_distance((-17.6, 0, 14.55))[0]
    chamfer(chamfer_edges, length=CHAMFER_SIZE, length2=CHAMFER_SIZE2, reference=chamfer_side)

    # Fillet
    fillet_edges = [cut.edges().sort_by_distance(p)[0] for p in [
        (-17.6, 0, 0),
    ]]
    fillet(fillet_edges, radius=FILLET_R)

    # Cut: cut Fusion
    add(fusion.part, mode=Mode.SUBTRACT)


solid = Compound([cylindre.part, cylindre001.part, cylindre002.part, cut.part])
